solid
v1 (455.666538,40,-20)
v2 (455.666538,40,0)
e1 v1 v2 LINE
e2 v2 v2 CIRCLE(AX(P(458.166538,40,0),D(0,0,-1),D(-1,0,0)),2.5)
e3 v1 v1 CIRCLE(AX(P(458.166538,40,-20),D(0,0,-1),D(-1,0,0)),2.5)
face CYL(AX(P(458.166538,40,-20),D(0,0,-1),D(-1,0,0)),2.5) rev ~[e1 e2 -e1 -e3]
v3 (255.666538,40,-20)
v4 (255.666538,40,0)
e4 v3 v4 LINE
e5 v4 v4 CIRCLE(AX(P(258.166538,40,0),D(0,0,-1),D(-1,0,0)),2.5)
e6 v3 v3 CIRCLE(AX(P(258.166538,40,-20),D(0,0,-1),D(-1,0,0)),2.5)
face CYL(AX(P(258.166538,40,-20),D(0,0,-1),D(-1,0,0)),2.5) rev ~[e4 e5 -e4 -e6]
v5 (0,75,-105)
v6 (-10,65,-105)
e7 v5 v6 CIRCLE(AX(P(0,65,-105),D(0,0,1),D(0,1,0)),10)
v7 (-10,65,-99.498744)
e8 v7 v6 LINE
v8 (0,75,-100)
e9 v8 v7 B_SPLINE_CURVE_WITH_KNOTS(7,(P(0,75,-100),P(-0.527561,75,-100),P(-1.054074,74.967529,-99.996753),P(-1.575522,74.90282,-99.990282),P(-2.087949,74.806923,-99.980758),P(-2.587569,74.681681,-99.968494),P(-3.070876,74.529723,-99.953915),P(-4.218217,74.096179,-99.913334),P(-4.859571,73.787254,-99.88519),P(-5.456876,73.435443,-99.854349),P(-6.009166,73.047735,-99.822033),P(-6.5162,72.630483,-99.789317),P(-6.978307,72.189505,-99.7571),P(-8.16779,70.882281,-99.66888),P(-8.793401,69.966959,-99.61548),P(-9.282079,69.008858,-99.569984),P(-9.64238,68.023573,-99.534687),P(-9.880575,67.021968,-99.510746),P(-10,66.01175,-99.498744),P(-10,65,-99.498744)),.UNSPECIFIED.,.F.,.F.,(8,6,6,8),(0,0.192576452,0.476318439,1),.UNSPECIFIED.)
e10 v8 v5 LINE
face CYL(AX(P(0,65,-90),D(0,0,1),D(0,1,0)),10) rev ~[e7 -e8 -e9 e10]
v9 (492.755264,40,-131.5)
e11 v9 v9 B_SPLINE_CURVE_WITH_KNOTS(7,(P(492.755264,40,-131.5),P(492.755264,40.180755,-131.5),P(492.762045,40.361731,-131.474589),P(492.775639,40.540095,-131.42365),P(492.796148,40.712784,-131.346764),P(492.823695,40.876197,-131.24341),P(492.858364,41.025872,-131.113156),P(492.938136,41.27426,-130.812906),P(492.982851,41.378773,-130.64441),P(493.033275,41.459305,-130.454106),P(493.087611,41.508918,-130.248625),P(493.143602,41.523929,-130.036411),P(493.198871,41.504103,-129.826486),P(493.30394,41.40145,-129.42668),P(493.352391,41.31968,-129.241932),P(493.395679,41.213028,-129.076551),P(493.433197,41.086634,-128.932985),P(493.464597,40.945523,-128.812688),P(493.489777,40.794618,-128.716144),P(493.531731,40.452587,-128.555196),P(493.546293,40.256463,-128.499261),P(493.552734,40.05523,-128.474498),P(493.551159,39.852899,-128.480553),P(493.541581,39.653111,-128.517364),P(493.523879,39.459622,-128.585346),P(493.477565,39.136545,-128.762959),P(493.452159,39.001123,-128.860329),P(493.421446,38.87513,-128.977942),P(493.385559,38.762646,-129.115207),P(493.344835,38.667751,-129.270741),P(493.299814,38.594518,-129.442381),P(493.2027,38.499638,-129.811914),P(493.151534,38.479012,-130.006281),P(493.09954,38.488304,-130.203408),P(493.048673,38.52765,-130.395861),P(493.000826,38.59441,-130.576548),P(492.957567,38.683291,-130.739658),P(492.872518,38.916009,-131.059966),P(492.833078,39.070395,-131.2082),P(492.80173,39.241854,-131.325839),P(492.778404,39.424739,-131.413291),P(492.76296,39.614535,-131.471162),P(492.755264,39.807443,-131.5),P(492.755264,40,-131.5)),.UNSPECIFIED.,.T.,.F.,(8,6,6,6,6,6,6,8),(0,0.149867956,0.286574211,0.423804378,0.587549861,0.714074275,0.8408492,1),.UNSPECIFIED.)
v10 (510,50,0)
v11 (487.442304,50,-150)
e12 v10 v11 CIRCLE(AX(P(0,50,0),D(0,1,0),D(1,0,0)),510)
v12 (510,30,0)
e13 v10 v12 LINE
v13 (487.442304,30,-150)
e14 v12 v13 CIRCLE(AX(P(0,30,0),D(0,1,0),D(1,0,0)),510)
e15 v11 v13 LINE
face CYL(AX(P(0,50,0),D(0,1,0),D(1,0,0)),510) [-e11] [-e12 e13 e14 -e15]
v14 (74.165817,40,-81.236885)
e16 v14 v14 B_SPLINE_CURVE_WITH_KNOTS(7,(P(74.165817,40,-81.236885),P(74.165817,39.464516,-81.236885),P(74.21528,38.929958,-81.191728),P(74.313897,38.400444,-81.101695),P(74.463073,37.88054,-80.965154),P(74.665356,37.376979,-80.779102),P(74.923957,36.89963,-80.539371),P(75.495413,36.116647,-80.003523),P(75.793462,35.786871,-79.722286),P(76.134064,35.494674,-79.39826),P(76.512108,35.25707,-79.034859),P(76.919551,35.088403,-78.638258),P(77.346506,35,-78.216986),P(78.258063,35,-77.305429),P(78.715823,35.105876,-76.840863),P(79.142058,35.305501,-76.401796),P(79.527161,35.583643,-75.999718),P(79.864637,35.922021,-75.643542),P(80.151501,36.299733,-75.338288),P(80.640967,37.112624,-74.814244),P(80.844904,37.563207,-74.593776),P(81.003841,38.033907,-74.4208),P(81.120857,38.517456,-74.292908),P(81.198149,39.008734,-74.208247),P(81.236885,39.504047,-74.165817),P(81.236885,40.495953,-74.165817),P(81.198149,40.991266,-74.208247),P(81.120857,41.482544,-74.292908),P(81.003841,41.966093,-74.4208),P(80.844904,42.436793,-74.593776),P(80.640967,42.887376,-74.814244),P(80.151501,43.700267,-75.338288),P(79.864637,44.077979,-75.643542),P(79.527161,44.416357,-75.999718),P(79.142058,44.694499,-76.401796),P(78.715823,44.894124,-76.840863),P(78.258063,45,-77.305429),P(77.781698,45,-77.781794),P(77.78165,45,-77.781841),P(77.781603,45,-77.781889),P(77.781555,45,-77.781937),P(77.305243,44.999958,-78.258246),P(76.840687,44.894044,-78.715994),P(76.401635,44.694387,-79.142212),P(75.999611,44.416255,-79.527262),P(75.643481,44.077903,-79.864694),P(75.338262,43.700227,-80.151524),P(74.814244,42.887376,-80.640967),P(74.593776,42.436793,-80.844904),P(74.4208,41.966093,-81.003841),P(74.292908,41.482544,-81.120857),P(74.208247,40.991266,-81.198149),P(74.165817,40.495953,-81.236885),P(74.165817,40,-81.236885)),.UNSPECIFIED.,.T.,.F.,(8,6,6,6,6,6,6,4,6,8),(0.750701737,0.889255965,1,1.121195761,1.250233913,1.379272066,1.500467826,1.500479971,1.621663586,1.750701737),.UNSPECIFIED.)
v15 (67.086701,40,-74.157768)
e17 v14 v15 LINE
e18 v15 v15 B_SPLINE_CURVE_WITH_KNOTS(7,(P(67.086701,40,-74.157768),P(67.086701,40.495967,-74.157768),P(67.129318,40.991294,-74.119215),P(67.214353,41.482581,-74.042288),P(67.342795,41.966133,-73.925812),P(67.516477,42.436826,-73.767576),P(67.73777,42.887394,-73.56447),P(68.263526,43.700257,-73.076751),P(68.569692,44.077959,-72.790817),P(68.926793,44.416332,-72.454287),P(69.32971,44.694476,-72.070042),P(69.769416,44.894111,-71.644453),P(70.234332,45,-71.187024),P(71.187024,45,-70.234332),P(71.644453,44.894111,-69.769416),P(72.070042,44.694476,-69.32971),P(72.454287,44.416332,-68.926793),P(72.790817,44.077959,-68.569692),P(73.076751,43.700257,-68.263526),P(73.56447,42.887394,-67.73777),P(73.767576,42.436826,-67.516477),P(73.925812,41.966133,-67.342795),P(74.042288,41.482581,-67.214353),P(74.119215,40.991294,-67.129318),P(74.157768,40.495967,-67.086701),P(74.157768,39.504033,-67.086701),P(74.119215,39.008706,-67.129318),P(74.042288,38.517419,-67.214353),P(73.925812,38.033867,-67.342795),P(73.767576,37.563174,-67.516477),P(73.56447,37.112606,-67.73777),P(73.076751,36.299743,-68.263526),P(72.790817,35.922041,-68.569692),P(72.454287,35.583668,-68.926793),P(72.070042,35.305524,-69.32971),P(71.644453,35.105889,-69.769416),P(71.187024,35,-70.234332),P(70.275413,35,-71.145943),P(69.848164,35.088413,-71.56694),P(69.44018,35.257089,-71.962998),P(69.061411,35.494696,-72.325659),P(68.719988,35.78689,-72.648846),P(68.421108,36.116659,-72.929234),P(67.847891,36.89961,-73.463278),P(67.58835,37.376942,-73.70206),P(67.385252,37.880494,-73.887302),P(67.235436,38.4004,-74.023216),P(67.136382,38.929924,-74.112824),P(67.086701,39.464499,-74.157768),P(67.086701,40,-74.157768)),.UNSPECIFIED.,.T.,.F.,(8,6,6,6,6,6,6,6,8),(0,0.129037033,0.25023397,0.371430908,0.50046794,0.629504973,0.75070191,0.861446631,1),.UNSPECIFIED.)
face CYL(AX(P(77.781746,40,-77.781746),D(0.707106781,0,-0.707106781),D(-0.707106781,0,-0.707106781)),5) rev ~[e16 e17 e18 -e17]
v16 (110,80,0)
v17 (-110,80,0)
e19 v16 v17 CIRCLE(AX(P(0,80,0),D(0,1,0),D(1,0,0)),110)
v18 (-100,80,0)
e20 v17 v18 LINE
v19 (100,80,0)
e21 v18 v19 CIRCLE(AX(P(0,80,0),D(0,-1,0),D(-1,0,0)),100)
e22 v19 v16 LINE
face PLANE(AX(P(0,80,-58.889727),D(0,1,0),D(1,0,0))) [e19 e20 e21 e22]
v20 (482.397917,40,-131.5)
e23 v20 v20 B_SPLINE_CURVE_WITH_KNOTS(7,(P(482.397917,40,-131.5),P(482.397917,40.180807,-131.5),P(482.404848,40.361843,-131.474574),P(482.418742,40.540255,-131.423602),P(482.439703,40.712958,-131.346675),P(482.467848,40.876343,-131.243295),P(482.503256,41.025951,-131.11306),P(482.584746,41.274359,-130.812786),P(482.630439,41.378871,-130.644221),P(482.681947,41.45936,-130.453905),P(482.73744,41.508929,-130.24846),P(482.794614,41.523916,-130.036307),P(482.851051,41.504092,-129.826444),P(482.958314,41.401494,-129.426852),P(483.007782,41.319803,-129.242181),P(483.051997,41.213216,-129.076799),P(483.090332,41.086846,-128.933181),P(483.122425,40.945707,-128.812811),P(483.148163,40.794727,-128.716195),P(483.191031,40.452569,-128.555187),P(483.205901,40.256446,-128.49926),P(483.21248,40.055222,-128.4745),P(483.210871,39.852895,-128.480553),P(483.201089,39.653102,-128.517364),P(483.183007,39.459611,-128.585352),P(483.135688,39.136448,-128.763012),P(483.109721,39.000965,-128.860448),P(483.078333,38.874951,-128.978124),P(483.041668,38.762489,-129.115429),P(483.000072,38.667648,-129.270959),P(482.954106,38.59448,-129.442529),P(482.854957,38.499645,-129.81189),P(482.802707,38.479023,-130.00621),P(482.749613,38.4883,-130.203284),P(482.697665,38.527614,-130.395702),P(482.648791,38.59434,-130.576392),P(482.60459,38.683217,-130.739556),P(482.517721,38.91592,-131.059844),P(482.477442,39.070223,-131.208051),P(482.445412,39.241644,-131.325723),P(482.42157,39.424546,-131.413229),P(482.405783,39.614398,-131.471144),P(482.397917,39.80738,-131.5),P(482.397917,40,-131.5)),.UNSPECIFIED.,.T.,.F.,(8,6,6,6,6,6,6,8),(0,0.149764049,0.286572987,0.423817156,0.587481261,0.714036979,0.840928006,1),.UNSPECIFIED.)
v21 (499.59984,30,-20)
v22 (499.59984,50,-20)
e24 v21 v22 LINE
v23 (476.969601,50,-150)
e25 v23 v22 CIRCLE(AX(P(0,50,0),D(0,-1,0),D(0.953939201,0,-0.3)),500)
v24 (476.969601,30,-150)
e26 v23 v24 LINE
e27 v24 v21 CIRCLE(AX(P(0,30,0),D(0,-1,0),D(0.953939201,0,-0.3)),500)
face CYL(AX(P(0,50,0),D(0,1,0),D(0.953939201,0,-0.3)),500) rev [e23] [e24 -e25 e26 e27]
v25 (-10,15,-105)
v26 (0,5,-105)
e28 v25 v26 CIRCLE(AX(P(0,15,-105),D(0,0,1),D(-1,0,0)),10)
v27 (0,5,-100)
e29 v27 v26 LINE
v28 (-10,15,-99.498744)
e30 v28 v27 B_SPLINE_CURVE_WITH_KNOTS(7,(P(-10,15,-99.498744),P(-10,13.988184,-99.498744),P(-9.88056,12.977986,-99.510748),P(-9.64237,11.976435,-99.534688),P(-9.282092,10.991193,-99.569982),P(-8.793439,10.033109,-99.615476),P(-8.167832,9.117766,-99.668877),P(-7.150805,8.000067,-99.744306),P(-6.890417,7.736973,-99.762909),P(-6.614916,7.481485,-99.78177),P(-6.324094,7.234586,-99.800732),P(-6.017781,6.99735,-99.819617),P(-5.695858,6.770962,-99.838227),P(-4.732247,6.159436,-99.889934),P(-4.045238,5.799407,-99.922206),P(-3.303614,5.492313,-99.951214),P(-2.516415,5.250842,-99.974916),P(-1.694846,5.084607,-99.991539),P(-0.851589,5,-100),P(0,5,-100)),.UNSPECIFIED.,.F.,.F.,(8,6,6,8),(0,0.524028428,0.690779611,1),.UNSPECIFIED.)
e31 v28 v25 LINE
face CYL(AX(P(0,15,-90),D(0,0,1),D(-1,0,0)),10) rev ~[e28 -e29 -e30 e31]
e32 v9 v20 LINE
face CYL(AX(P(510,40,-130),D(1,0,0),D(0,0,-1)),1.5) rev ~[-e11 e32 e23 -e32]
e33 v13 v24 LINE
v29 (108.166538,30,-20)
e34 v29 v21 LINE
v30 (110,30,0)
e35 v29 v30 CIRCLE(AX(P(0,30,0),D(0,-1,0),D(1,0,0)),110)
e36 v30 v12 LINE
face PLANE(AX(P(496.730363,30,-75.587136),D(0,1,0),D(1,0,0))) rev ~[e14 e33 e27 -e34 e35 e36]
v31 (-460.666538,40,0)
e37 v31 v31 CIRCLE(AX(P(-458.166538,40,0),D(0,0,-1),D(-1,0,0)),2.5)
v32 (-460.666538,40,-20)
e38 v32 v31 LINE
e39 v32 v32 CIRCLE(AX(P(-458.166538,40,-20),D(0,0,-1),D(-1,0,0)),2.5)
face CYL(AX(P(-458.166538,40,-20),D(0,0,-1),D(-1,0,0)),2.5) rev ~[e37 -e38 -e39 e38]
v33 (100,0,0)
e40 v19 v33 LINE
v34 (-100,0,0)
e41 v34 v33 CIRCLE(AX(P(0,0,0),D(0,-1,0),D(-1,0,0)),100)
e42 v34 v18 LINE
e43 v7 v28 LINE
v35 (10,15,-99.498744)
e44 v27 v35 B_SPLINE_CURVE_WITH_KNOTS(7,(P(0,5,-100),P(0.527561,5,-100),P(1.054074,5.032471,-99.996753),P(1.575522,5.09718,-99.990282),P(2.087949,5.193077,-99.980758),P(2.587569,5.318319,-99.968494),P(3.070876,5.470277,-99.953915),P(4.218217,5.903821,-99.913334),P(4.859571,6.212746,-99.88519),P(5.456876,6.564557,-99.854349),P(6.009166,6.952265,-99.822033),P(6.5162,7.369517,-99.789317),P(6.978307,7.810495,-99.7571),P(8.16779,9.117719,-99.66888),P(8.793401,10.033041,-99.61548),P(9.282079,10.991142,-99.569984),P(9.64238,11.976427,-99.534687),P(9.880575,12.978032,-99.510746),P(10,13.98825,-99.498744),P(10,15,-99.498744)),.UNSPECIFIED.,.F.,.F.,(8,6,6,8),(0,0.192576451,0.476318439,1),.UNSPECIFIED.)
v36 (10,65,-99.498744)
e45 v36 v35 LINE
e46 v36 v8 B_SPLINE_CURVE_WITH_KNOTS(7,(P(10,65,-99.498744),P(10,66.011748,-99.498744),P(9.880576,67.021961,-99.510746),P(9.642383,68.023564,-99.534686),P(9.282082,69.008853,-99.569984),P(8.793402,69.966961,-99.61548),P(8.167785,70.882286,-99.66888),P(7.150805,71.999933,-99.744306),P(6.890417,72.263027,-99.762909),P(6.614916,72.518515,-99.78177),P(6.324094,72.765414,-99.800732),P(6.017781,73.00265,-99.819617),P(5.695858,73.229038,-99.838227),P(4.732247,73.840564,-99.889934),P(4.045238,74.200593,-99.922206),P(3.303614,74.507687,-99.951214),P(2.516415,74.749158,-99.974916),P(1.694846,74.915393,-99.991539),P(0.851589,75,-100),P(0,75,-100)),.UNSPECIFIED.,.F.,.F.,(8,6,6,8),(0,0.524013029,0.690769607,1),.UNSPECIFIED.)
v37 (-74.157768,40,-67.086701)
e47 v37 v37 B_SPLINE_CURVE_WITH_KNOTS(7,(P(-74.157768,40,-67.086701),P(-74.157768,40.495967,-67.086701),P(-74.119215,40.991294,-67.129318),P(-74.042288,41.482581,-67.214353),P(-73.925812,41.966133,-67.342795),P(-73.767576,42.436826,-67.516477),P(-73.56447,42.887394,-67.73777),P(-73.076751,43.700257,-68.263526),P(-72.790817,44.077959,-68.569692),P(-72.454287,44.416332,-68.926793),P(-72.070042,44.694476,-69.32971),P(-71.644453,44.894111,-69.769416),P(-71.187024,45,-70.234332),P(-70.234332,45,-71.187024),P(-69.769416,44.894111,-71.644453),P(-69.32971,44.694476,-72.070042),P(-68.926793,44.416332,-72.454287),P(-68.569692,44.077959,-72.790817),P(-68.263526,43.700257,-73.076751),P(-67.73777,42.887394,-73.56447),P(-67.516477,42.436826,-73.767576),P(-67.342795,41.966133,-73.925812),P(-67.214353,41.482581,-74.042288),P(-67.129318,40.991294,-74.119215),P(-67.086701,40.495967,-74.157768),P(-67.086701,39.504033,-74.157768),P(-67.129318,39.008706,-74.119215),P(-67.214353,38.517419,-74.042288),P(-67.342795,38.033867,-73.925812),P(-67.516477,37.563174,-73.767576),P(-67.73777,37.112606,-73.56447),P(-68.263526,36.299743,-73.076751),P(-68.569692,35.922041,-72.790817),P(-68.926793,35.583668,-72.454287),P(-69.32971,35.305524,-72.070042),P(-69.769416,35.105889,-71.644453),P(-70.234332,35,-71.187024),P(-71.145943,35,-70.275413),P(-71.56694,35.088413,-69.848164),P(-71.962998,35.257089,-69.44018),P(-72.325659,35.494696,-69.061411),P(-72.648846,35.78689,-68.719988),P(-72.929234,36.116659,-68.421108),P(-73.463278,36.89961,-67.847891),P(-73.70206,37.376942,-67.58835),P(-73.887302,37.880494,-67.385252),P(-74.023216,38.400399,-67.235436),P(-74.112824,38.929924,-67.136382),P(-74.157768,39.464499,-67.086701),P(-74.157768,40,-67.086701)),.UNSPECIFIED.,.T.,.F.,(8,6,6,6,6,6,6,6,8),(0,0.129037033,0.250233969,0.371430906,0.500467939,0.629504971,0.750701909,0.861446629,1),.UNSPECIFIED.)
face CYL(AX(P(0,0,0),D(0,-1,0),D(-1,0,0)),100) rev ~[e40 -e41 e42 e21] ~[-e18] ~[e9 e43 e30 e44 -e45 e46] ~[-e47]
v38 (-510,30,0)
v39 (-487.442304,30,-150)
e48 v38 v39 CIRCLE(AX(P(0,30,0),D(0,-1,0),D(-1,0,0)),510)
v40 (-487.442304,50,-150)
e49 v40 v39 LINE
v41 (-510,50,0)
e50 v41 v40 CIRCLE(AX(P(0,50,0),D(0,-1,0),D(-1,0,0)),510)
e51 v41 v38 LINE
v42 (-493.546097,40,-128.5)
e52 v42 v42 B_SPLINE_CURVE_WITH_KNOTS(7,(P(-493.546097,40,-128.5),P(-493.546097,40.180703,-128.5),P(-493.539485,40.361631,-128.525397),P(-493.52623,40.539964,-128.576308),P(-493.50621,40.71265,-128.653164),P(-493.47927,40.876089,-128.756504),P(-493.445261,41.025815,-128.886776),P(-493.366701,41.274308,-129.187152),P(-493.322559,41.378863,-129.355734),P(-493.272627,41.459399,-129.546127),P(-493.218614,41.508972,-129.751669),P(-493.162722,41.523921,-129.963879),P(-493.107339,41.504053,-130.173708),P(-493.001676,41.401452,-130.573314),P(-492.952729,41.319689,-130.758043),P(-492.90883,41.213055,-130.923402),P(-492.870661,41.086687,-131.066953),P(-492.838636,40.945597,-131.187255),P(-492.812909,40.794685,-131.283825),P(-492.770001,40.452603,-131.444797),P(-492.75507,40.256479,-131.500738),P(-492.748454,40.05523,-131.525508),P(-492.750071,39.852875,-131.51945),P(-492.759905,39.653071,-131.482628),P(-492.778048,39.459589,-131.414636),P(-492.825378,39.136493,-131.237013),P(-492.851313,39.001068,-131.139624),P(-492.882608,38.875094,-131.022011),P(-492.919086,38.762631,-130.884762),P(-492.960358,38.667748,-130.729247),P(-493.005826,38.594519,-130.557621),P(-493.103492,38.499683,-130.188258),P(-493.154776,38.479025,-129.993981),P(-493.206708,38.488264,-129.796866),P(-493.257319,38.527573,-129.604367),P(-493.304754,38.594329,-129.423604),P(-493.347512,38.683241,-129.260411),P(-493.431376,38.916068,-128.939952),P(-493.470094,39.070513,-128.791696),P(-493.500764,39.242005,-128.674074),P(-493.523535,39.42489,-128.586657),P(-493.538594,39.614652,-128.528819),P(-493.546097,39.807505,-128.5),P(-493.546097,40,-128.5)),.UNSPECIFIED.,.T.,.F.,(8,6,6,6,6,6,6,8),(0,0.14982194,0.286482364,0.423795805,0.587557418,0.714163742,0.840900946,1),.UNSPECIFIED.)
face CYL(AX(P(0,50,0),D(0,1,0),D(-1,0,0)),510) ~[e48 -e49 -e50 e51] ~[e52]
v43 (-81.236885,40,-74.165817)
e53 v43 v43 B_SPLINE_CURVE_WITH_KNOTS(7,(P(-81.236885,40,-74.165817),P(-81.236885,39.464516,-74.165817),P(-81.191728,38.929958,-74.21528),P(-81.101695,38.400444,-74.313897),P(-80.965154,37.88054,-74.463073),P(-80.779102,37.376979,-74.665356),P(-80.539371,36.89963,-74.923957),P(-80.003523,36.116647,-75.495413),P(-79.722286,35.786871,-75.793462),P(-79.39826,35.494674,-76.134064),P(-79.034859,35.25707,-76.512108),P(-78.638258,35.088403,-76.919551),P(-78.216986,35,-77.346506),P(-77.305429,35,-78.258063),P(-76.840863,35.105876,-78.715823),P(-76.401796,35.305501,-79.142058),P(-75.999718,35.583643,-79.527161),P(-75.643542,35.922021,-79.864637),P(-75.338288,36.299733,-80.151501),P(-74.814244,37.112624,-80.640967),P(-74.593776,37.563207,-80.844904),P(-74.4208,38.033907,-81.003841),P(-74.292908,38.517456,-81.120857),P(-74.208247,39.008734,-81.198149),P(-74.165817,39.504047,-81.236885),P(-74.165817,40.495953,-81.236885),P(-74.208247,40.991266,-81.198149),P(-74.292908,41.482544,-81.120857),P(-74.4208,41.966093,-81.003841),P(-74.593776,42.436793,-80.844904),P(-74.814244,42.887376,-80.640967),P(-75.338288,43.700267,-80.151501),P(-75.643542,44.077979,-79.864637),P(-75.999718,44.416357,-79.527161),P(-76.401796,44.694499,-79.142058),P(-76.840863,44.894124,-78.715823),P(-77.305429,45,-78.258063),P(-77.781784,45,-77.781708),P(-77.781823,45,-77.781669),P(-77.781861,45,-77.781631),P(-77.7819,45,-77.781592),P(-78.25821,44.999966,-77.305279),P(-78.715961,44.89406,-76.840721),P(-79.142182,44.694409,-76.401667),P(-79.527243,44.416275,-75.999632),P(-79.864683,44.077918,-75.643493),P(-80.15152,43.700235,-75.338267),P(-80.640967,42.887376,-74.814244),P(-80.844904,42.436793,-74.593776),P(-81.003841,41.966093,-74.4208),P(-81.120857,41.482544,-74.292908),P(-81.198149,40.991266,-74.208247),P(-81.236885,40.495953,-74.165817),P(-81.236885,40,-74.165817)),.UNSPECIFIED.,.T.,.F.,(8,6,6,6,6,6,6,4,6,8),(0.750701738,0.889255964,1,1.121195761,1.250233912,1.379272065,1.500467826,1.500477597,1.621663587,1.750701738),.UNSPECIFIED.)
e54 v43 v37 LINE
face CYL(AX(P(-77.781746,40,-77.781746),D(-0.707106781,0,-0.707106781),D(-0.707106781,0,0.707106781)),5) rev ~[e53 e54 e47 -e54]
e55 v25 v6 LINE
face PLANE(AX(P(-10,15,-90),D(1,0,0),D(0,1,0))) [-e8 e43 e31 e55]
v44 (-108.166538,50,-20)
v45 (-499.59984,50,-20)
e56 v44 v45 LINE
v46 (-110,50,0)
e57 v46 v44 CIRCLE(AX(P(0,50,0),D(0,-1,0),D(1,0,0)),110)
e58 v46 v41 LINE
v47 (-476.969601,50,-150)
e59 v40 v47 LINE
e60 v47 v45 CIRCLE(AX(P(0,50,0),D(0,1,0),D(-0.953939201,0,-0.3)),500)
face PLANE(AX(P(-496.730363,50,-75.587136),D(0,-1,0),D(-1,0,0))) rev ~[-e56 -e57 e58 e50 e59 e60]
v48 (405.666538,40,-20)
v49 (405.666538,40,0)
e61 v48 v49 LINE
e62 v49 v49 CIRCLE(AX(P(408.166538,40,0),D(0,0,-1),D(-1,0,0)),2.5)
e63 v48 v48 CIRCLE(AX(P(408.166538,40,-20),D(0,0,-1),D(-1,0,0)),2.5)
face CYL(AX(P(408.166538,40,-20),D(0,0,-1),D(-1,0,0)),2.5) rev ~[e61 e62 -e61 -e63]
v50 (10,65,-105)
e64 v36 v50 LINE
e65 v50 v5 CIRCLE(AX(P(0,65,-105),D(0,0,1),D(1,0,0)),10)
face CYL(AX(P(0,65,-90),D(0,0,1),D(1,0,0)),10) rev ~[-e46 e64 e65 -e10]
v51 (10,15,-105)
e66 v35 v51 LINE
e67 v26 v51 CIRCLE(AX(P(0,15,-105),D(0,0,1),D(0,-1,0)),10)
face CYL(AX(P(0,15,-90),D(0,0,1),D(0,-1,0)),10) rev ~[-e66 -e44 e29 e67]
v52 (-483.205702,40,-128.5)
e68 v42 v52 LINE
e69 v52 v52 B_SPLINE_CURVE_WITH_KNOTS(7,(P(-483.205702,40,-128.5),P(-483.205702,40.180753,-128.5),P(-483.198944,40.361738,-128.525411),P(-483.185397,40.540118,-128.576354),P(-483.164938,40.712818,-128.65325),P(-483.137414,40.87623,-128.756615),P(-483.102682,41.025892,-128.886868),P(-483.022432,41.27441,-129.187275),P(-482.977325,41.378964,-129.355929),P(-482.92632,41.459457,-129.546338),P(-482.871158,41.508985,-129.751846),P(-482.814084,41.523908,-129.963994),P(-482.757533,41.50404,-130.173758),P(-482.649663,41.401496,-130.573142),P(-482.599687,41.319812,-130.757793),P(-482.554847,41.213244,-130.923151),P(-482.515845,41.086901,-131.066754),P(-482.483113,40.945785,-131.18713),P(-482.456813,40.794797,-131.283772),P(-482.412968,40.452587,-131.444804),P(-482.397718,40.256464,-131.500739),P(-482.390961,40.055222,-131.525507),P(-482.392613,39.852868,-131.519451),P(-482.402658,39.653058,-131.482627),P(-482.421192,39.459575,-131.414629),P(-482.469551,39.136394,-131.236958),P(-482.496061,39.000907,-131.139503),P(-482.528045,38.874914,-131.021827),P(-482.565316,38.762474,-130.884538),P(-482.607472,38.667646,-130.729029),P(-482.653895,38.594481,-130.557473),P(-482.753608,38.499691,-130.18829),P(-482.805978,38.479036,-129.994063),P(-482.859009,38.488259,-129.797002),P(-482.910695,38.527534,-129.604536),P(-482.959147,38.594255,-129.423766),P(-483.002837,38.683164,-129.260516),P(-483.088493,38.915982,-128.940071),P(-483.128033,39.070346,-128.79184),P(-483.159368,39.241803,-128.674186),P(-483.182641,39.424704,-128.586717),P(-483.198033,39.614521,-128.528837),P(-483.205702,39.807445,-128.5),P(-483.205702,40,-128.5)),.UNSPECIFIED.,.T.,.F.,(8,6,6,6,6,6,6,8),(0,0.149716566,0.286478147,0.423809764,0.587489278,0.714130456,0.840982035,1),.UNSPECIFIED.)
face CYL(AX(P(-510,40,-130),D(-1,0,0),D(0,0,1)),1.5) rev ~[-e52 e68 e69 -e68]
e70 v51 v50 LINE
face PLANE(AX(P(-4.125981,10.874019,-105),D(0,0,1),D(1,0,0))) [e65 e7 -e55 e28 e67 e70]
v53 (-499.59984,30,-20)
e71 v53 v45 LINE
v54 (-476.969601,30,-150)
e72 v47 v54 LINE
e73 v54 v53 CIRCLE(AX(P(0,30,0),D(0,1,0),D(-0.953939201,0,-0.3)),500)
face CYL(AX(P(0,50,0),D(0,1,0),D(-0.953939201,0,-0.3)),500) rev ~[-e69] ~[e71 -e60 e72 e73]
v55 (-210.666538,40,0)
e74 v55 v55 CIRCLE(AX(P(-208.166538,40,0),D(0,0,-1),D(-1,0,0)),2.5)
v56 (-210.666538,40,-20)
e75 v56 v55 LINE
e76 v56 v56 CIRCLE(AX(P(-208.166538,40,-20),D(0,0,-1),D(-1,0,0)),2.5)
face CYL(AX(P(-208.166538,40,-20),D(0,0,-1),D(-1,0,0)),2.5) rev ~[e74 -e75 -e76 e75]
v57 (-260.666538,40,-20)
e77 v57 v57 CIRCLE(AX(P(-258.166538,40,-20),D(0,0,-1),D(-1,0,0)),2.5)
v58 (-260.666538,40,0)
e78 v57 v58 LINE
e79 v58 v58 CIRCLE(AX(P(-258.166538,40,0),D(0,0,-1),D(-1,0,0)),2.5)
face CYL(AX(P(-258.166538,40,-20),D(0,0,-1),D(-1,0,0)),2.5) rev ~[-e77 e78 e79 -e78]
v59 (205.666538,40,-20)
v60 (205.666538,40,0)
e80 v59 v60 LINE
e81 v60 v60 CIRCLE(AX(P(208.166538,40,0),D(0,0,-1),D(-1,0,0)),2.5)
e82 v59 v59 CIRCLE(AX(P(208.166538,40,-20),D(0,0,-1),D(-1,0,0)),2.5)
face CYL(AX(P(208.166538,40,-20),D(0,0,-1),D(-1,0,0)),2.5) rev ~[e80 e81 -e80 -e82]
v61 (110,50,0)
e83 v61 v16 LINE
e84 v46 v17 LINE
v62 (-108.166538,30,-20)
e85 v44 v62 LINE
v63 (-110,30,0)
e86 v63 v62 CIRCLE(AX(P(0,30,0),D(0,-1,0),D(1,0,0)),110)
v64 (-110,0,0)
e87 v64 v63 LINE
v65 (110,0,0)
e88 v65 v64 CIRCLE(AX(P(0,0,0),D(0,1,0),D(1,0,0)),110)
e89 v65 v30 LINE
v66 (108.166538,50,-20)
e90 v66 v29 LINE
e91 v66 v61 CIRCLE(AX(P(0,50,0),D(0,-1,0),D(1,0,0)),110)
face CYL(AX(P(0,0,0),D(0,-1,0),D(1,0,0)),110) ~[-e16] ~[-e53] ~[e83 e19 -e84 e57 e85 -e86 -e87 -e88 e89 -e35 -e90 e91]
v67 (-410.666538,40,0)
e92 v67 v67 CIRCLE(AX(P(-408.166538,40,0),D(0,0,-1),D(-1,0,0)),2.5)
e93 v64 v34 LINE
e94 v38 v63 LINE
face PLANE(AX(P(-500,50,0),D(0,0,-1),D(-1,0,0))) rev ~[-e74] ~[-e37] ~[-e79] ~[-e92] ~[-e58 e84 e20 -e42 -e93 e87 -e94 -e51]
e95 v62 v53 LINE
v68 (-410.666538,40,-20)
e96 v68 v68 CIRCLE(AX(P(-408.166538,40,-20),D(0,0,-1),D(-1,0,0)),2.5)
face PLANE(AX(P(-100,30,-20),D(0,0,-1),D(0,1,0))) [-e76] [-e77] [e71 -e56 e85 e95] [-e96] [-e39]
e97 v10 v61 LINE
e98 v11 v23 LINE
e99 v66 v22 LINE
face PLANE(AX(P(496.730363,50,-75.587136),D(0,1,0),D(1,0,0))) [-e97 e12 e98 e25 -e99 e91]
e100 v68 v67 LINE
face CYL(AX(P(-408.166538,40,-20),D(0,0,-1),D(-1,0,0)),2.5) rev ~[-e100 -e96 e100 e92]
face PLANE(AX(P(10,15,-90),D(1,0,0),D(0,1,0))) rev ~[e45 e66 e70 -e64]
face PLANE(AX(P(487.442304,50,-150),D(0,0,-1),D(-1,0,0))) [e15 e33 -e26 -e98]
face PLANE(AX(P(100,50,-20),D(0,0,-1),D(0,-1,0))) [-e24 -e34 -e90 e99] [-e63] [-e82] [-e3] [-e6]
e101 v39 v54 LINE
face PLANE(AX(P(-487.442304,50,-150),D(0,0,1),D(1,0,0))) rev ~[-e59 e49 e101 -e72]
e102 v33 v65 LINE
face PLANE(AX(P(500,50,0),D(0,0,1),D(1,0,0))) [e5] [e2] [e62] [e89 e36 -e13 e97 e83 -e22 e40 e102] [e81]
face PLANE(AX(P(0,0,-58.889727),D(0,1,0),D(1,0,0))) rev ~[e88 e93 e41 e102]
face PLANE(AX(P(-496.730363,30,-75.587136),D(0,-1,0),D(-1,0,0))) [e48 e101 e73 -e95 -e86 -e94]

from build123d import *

# Parameters (mm, degrees)
BOSS_EXTRUDE1_DEPTH = 80
SKETCH2_W           = 20
SKETCH2_H           = 10
BOSS_EXTRUDE2_DEPTH = 400
SKETCH3_W           = 20
SKETCH3_H           = 20
BOSS_EXTRUDE3_DEPTH = 400
BOSS_EXTRUDE4_DEPTH = 20
BOSS_EXTRUDE5_DEPTH = 20
SKETCH10_R          = 2.5
CUT_EXTRUDE1_DEPTH  = 20
SKETCH11_R          = 5
CUT_EXTRUDE3_DEPTH  = 20
SKETCH12_R          = 5
CUT_EXTRUDE4_DEPTH  = 20
SKETCH15_W          = 10
SKETCH15_H          = 50
CUT_EXTRUDE7_DEPTH  = 15
SKETCH16_R          = 1.5
CUT_EXTRUDE8_DEPTH  = 50
SKETCH17_R          = 1.5
CUT_EXTRUDE9_DEPTH  = 50


with BuildPart() as part:
    # Sketch1 → Boss-Extrude1 (new body)
    with BuildSketch(Plane(origin=(0, 0, 0), x_dir=(1, 0, 0), z_dir=(0, 1, 0))):
        with BuildLine():
            Line((-110, 0), (-100, 0))
            ThreePointArc((-100, 0), (0, 100), (100, 0))
            Line((100, 0), (110, 0))
            ThreePointArc((110, 0), (0, 110), (-110, 0))
        make_face()
    extrude(amount=BOSS_EXTRUDE1_DEPTH)

    # Sketch2 → Boss-Extrude2 (add)
    with BuildSketch(Plane(origin=(100, 80, 0), x_dir=(0, 0, 1), z_dir=(-1, 0, 0))):
        with Locations((-10, -35)):
            Rectangle(SKETCH2_W, SKETCH2_H)
        with Locations((-10, -45)):
            Rectangle(SKETCH2_W, SKETCH2_H)
    extrude(amount=-BOSS_EXTRUDE2_DEPTH)

    # Sketch3 → Boss-Extrude3 (add)
    with BuildSketch(Plane(origin=(-100, 80, 0), x_dir=(0, 0, -1), z_dir=(1, 0, 0))):
        with Locations((10, -40)):
            Rectangle(SKETCH3_W, SKETCH3_H)
    extrude(amount=-BOSS_EXTRUDE3_DEPTH)

    # Sketch5 → Boss-Extrude4 (add)
    with BuildSketch(Plane(origin=(0, 50, 0), x_dir=(1, 0, 0), z_dir=(0, 1, 0))):
        with BuildLine():
            Line((500, 0), (510, 0))
            ThreePointArc((510, 0), (504.329046943, 75.843341231), (487.442304278, 150))
            Line((487.442304278, 150), (476.969600708, 150))
            ThreePointArc((476.969600708, 150), (494.208862908, 75.878849641), (500, 0))
        make_face()
    extrude(amount=-BOSS_EXTRUDE4_DEPTH)

    # Sketch7 → Boss-Extrude5 (add)
    with BuildSketch(Plane(origin=(0, 50, 0), x_dir=(1, 0, 0), z_dir=(0, 1, 0))):
        with BuildLine():
            ThreePointArc((-510, 0), (-504.329046943, 75.843341231), (-487.442304278, 150))
            Line((-487.442304278, 150), (-476.969600708, 150))
            ThreePointArc((-476.969600708, 150), (-494.208862908, 75.878849641), (-500, 0))
            Line((-500, 0), (-510, 0))
        make_face()
    extrude(amount=-BOSS_EXTRUDE5_DEPTH)

    # Sketch10 → Cut-Extrude1 (cut)
    with BuildSketch(Plane(origin=(0, 0, -20), x_dir=(-1, 0, 0), z_dir=(0, 0, -1))):
        with Locations((-258.166538264, 40)):
            Circle(SKETCH10_R)
        with Locations((-408.166538264, 40)):
            Circle(SKETCH10_R)
        with Locations((258.166538264, 40)):
            Circle(SKETCH10_R)
        with Locations((408.166538264, 40)):
            Circle(SKETCH10_R)
        with Locations((-458.166538264, 40)):
            Circle(SKETCH10_R)
        with Locations((-208.166538264, 40)):
            Circle(SKETCH10_R)
        with Locations((208.166538264, 40)):
            Circle(SKETCH10_R)
        with Locations((458.166538264, 40)):
            Circle(SKETCH10_R)
    extrude(amount=-CUT_EXTRUDE1_DEPTH, mode=Mode.SUBTRACT)

    # Sketch11 → Cut-Extrude3 (cut)
    with BuildSketch(Plane(origin=(-77.781745931, 0, -77.781745931), x_dir=(-0.707106781, 0, 0.707106781), z_dir=(-0.707106781, 0, -0.707106781))):
        with Locations((0, 40)):
            Circle(SKETCH11_R)
    extrude(amount=-CUT_EXTRUDE3_DEPTH, mode=Mode.SUBTRACT)

    # Sketch12 → Cut-Extrude4 (cut)
    with BuildSketch(Plane(origin=(77.781745931, 0, -77.781745931), x_dir=(-0.707106781, 0, -0.707106781), z_dir=(0.707106781, 0, -0.707106781))):
        with Locations((0, 40)):
            Circle(SKETCH12_R)
    extrude(amount=-CUT_EXTRUDE4_DEPTH, mode=Mode.SUBTRACT)

    # Sketch15 → Cut-Extrude7 (cut)
    with BuildSketch(Plane.XY.offset(-90)):
        with BuildLine():
            ThreePointArc((-10, 15), (-7.071067812, 7.928932188), (0, 5))
            Line((0, 5), (0, 15))
            Line((0, 15), (-10, 15))
        make_face()
        with BuildLine():
            Line((0, 15), (0, 5))
            ThreePointArc((0, 5), (7.071067812, 7.928932188), (10, 15))
            Line((10, 15), (0, 15))
        make_face()
        with Locations((5, 40)):
            Rectangle(SKETCH15_W, SKETCH15_H)
        with Locations((-5, 40)):
            Rectangle(SKETCH15_W, SKETCH15_H)
        with BuildLine():
            Line((-10, 65), (0, 65))
            Line((0, 65), (0, 75))
            ThreePointArc((0, 75), (-7.071067812, 72.071067812), (-10, 65))
        make_face()
        with BuildLine():
            Line((0, 75), (0, 65))
            Line((0, 65), (10, 65))
            ThreePointArc((10, 65), (7.071067812, 72.071067812), (0, 75))
        make_face()
    extrude(amount=-CUT_EXTRUDE7_DEPTH, mode=Mode.SUBTRACT)

    # Sketch16 → Cut-Extrude8 (cut)
    with BuildSketch(Plane(origin=(-510, 30, 0), x_dir=(0, 0, 1), z_dir=(-1, 0, 0))):
        with Locations((-130, 10)):
            Circle(SKETCH16_R)
    extrude(amount=-CUT_EXTRUDE8_DEPTH, mode=Mode.SUBTRACT)

    # Sketch17 → Cut-Extrude9 (cut)
    with BuildSketch(Plane(origin=(510, 30, 0), x_dir=(0, 0, -1), z_dir=(1, 0, 0))):
        with Locations((130, 10)):
            Circle(SKETCH17_R)
    extrude(amount=-CUT_EXTRUDE9_DEPTH, mode=Mode.SUBTRACT)


solid = part.part
